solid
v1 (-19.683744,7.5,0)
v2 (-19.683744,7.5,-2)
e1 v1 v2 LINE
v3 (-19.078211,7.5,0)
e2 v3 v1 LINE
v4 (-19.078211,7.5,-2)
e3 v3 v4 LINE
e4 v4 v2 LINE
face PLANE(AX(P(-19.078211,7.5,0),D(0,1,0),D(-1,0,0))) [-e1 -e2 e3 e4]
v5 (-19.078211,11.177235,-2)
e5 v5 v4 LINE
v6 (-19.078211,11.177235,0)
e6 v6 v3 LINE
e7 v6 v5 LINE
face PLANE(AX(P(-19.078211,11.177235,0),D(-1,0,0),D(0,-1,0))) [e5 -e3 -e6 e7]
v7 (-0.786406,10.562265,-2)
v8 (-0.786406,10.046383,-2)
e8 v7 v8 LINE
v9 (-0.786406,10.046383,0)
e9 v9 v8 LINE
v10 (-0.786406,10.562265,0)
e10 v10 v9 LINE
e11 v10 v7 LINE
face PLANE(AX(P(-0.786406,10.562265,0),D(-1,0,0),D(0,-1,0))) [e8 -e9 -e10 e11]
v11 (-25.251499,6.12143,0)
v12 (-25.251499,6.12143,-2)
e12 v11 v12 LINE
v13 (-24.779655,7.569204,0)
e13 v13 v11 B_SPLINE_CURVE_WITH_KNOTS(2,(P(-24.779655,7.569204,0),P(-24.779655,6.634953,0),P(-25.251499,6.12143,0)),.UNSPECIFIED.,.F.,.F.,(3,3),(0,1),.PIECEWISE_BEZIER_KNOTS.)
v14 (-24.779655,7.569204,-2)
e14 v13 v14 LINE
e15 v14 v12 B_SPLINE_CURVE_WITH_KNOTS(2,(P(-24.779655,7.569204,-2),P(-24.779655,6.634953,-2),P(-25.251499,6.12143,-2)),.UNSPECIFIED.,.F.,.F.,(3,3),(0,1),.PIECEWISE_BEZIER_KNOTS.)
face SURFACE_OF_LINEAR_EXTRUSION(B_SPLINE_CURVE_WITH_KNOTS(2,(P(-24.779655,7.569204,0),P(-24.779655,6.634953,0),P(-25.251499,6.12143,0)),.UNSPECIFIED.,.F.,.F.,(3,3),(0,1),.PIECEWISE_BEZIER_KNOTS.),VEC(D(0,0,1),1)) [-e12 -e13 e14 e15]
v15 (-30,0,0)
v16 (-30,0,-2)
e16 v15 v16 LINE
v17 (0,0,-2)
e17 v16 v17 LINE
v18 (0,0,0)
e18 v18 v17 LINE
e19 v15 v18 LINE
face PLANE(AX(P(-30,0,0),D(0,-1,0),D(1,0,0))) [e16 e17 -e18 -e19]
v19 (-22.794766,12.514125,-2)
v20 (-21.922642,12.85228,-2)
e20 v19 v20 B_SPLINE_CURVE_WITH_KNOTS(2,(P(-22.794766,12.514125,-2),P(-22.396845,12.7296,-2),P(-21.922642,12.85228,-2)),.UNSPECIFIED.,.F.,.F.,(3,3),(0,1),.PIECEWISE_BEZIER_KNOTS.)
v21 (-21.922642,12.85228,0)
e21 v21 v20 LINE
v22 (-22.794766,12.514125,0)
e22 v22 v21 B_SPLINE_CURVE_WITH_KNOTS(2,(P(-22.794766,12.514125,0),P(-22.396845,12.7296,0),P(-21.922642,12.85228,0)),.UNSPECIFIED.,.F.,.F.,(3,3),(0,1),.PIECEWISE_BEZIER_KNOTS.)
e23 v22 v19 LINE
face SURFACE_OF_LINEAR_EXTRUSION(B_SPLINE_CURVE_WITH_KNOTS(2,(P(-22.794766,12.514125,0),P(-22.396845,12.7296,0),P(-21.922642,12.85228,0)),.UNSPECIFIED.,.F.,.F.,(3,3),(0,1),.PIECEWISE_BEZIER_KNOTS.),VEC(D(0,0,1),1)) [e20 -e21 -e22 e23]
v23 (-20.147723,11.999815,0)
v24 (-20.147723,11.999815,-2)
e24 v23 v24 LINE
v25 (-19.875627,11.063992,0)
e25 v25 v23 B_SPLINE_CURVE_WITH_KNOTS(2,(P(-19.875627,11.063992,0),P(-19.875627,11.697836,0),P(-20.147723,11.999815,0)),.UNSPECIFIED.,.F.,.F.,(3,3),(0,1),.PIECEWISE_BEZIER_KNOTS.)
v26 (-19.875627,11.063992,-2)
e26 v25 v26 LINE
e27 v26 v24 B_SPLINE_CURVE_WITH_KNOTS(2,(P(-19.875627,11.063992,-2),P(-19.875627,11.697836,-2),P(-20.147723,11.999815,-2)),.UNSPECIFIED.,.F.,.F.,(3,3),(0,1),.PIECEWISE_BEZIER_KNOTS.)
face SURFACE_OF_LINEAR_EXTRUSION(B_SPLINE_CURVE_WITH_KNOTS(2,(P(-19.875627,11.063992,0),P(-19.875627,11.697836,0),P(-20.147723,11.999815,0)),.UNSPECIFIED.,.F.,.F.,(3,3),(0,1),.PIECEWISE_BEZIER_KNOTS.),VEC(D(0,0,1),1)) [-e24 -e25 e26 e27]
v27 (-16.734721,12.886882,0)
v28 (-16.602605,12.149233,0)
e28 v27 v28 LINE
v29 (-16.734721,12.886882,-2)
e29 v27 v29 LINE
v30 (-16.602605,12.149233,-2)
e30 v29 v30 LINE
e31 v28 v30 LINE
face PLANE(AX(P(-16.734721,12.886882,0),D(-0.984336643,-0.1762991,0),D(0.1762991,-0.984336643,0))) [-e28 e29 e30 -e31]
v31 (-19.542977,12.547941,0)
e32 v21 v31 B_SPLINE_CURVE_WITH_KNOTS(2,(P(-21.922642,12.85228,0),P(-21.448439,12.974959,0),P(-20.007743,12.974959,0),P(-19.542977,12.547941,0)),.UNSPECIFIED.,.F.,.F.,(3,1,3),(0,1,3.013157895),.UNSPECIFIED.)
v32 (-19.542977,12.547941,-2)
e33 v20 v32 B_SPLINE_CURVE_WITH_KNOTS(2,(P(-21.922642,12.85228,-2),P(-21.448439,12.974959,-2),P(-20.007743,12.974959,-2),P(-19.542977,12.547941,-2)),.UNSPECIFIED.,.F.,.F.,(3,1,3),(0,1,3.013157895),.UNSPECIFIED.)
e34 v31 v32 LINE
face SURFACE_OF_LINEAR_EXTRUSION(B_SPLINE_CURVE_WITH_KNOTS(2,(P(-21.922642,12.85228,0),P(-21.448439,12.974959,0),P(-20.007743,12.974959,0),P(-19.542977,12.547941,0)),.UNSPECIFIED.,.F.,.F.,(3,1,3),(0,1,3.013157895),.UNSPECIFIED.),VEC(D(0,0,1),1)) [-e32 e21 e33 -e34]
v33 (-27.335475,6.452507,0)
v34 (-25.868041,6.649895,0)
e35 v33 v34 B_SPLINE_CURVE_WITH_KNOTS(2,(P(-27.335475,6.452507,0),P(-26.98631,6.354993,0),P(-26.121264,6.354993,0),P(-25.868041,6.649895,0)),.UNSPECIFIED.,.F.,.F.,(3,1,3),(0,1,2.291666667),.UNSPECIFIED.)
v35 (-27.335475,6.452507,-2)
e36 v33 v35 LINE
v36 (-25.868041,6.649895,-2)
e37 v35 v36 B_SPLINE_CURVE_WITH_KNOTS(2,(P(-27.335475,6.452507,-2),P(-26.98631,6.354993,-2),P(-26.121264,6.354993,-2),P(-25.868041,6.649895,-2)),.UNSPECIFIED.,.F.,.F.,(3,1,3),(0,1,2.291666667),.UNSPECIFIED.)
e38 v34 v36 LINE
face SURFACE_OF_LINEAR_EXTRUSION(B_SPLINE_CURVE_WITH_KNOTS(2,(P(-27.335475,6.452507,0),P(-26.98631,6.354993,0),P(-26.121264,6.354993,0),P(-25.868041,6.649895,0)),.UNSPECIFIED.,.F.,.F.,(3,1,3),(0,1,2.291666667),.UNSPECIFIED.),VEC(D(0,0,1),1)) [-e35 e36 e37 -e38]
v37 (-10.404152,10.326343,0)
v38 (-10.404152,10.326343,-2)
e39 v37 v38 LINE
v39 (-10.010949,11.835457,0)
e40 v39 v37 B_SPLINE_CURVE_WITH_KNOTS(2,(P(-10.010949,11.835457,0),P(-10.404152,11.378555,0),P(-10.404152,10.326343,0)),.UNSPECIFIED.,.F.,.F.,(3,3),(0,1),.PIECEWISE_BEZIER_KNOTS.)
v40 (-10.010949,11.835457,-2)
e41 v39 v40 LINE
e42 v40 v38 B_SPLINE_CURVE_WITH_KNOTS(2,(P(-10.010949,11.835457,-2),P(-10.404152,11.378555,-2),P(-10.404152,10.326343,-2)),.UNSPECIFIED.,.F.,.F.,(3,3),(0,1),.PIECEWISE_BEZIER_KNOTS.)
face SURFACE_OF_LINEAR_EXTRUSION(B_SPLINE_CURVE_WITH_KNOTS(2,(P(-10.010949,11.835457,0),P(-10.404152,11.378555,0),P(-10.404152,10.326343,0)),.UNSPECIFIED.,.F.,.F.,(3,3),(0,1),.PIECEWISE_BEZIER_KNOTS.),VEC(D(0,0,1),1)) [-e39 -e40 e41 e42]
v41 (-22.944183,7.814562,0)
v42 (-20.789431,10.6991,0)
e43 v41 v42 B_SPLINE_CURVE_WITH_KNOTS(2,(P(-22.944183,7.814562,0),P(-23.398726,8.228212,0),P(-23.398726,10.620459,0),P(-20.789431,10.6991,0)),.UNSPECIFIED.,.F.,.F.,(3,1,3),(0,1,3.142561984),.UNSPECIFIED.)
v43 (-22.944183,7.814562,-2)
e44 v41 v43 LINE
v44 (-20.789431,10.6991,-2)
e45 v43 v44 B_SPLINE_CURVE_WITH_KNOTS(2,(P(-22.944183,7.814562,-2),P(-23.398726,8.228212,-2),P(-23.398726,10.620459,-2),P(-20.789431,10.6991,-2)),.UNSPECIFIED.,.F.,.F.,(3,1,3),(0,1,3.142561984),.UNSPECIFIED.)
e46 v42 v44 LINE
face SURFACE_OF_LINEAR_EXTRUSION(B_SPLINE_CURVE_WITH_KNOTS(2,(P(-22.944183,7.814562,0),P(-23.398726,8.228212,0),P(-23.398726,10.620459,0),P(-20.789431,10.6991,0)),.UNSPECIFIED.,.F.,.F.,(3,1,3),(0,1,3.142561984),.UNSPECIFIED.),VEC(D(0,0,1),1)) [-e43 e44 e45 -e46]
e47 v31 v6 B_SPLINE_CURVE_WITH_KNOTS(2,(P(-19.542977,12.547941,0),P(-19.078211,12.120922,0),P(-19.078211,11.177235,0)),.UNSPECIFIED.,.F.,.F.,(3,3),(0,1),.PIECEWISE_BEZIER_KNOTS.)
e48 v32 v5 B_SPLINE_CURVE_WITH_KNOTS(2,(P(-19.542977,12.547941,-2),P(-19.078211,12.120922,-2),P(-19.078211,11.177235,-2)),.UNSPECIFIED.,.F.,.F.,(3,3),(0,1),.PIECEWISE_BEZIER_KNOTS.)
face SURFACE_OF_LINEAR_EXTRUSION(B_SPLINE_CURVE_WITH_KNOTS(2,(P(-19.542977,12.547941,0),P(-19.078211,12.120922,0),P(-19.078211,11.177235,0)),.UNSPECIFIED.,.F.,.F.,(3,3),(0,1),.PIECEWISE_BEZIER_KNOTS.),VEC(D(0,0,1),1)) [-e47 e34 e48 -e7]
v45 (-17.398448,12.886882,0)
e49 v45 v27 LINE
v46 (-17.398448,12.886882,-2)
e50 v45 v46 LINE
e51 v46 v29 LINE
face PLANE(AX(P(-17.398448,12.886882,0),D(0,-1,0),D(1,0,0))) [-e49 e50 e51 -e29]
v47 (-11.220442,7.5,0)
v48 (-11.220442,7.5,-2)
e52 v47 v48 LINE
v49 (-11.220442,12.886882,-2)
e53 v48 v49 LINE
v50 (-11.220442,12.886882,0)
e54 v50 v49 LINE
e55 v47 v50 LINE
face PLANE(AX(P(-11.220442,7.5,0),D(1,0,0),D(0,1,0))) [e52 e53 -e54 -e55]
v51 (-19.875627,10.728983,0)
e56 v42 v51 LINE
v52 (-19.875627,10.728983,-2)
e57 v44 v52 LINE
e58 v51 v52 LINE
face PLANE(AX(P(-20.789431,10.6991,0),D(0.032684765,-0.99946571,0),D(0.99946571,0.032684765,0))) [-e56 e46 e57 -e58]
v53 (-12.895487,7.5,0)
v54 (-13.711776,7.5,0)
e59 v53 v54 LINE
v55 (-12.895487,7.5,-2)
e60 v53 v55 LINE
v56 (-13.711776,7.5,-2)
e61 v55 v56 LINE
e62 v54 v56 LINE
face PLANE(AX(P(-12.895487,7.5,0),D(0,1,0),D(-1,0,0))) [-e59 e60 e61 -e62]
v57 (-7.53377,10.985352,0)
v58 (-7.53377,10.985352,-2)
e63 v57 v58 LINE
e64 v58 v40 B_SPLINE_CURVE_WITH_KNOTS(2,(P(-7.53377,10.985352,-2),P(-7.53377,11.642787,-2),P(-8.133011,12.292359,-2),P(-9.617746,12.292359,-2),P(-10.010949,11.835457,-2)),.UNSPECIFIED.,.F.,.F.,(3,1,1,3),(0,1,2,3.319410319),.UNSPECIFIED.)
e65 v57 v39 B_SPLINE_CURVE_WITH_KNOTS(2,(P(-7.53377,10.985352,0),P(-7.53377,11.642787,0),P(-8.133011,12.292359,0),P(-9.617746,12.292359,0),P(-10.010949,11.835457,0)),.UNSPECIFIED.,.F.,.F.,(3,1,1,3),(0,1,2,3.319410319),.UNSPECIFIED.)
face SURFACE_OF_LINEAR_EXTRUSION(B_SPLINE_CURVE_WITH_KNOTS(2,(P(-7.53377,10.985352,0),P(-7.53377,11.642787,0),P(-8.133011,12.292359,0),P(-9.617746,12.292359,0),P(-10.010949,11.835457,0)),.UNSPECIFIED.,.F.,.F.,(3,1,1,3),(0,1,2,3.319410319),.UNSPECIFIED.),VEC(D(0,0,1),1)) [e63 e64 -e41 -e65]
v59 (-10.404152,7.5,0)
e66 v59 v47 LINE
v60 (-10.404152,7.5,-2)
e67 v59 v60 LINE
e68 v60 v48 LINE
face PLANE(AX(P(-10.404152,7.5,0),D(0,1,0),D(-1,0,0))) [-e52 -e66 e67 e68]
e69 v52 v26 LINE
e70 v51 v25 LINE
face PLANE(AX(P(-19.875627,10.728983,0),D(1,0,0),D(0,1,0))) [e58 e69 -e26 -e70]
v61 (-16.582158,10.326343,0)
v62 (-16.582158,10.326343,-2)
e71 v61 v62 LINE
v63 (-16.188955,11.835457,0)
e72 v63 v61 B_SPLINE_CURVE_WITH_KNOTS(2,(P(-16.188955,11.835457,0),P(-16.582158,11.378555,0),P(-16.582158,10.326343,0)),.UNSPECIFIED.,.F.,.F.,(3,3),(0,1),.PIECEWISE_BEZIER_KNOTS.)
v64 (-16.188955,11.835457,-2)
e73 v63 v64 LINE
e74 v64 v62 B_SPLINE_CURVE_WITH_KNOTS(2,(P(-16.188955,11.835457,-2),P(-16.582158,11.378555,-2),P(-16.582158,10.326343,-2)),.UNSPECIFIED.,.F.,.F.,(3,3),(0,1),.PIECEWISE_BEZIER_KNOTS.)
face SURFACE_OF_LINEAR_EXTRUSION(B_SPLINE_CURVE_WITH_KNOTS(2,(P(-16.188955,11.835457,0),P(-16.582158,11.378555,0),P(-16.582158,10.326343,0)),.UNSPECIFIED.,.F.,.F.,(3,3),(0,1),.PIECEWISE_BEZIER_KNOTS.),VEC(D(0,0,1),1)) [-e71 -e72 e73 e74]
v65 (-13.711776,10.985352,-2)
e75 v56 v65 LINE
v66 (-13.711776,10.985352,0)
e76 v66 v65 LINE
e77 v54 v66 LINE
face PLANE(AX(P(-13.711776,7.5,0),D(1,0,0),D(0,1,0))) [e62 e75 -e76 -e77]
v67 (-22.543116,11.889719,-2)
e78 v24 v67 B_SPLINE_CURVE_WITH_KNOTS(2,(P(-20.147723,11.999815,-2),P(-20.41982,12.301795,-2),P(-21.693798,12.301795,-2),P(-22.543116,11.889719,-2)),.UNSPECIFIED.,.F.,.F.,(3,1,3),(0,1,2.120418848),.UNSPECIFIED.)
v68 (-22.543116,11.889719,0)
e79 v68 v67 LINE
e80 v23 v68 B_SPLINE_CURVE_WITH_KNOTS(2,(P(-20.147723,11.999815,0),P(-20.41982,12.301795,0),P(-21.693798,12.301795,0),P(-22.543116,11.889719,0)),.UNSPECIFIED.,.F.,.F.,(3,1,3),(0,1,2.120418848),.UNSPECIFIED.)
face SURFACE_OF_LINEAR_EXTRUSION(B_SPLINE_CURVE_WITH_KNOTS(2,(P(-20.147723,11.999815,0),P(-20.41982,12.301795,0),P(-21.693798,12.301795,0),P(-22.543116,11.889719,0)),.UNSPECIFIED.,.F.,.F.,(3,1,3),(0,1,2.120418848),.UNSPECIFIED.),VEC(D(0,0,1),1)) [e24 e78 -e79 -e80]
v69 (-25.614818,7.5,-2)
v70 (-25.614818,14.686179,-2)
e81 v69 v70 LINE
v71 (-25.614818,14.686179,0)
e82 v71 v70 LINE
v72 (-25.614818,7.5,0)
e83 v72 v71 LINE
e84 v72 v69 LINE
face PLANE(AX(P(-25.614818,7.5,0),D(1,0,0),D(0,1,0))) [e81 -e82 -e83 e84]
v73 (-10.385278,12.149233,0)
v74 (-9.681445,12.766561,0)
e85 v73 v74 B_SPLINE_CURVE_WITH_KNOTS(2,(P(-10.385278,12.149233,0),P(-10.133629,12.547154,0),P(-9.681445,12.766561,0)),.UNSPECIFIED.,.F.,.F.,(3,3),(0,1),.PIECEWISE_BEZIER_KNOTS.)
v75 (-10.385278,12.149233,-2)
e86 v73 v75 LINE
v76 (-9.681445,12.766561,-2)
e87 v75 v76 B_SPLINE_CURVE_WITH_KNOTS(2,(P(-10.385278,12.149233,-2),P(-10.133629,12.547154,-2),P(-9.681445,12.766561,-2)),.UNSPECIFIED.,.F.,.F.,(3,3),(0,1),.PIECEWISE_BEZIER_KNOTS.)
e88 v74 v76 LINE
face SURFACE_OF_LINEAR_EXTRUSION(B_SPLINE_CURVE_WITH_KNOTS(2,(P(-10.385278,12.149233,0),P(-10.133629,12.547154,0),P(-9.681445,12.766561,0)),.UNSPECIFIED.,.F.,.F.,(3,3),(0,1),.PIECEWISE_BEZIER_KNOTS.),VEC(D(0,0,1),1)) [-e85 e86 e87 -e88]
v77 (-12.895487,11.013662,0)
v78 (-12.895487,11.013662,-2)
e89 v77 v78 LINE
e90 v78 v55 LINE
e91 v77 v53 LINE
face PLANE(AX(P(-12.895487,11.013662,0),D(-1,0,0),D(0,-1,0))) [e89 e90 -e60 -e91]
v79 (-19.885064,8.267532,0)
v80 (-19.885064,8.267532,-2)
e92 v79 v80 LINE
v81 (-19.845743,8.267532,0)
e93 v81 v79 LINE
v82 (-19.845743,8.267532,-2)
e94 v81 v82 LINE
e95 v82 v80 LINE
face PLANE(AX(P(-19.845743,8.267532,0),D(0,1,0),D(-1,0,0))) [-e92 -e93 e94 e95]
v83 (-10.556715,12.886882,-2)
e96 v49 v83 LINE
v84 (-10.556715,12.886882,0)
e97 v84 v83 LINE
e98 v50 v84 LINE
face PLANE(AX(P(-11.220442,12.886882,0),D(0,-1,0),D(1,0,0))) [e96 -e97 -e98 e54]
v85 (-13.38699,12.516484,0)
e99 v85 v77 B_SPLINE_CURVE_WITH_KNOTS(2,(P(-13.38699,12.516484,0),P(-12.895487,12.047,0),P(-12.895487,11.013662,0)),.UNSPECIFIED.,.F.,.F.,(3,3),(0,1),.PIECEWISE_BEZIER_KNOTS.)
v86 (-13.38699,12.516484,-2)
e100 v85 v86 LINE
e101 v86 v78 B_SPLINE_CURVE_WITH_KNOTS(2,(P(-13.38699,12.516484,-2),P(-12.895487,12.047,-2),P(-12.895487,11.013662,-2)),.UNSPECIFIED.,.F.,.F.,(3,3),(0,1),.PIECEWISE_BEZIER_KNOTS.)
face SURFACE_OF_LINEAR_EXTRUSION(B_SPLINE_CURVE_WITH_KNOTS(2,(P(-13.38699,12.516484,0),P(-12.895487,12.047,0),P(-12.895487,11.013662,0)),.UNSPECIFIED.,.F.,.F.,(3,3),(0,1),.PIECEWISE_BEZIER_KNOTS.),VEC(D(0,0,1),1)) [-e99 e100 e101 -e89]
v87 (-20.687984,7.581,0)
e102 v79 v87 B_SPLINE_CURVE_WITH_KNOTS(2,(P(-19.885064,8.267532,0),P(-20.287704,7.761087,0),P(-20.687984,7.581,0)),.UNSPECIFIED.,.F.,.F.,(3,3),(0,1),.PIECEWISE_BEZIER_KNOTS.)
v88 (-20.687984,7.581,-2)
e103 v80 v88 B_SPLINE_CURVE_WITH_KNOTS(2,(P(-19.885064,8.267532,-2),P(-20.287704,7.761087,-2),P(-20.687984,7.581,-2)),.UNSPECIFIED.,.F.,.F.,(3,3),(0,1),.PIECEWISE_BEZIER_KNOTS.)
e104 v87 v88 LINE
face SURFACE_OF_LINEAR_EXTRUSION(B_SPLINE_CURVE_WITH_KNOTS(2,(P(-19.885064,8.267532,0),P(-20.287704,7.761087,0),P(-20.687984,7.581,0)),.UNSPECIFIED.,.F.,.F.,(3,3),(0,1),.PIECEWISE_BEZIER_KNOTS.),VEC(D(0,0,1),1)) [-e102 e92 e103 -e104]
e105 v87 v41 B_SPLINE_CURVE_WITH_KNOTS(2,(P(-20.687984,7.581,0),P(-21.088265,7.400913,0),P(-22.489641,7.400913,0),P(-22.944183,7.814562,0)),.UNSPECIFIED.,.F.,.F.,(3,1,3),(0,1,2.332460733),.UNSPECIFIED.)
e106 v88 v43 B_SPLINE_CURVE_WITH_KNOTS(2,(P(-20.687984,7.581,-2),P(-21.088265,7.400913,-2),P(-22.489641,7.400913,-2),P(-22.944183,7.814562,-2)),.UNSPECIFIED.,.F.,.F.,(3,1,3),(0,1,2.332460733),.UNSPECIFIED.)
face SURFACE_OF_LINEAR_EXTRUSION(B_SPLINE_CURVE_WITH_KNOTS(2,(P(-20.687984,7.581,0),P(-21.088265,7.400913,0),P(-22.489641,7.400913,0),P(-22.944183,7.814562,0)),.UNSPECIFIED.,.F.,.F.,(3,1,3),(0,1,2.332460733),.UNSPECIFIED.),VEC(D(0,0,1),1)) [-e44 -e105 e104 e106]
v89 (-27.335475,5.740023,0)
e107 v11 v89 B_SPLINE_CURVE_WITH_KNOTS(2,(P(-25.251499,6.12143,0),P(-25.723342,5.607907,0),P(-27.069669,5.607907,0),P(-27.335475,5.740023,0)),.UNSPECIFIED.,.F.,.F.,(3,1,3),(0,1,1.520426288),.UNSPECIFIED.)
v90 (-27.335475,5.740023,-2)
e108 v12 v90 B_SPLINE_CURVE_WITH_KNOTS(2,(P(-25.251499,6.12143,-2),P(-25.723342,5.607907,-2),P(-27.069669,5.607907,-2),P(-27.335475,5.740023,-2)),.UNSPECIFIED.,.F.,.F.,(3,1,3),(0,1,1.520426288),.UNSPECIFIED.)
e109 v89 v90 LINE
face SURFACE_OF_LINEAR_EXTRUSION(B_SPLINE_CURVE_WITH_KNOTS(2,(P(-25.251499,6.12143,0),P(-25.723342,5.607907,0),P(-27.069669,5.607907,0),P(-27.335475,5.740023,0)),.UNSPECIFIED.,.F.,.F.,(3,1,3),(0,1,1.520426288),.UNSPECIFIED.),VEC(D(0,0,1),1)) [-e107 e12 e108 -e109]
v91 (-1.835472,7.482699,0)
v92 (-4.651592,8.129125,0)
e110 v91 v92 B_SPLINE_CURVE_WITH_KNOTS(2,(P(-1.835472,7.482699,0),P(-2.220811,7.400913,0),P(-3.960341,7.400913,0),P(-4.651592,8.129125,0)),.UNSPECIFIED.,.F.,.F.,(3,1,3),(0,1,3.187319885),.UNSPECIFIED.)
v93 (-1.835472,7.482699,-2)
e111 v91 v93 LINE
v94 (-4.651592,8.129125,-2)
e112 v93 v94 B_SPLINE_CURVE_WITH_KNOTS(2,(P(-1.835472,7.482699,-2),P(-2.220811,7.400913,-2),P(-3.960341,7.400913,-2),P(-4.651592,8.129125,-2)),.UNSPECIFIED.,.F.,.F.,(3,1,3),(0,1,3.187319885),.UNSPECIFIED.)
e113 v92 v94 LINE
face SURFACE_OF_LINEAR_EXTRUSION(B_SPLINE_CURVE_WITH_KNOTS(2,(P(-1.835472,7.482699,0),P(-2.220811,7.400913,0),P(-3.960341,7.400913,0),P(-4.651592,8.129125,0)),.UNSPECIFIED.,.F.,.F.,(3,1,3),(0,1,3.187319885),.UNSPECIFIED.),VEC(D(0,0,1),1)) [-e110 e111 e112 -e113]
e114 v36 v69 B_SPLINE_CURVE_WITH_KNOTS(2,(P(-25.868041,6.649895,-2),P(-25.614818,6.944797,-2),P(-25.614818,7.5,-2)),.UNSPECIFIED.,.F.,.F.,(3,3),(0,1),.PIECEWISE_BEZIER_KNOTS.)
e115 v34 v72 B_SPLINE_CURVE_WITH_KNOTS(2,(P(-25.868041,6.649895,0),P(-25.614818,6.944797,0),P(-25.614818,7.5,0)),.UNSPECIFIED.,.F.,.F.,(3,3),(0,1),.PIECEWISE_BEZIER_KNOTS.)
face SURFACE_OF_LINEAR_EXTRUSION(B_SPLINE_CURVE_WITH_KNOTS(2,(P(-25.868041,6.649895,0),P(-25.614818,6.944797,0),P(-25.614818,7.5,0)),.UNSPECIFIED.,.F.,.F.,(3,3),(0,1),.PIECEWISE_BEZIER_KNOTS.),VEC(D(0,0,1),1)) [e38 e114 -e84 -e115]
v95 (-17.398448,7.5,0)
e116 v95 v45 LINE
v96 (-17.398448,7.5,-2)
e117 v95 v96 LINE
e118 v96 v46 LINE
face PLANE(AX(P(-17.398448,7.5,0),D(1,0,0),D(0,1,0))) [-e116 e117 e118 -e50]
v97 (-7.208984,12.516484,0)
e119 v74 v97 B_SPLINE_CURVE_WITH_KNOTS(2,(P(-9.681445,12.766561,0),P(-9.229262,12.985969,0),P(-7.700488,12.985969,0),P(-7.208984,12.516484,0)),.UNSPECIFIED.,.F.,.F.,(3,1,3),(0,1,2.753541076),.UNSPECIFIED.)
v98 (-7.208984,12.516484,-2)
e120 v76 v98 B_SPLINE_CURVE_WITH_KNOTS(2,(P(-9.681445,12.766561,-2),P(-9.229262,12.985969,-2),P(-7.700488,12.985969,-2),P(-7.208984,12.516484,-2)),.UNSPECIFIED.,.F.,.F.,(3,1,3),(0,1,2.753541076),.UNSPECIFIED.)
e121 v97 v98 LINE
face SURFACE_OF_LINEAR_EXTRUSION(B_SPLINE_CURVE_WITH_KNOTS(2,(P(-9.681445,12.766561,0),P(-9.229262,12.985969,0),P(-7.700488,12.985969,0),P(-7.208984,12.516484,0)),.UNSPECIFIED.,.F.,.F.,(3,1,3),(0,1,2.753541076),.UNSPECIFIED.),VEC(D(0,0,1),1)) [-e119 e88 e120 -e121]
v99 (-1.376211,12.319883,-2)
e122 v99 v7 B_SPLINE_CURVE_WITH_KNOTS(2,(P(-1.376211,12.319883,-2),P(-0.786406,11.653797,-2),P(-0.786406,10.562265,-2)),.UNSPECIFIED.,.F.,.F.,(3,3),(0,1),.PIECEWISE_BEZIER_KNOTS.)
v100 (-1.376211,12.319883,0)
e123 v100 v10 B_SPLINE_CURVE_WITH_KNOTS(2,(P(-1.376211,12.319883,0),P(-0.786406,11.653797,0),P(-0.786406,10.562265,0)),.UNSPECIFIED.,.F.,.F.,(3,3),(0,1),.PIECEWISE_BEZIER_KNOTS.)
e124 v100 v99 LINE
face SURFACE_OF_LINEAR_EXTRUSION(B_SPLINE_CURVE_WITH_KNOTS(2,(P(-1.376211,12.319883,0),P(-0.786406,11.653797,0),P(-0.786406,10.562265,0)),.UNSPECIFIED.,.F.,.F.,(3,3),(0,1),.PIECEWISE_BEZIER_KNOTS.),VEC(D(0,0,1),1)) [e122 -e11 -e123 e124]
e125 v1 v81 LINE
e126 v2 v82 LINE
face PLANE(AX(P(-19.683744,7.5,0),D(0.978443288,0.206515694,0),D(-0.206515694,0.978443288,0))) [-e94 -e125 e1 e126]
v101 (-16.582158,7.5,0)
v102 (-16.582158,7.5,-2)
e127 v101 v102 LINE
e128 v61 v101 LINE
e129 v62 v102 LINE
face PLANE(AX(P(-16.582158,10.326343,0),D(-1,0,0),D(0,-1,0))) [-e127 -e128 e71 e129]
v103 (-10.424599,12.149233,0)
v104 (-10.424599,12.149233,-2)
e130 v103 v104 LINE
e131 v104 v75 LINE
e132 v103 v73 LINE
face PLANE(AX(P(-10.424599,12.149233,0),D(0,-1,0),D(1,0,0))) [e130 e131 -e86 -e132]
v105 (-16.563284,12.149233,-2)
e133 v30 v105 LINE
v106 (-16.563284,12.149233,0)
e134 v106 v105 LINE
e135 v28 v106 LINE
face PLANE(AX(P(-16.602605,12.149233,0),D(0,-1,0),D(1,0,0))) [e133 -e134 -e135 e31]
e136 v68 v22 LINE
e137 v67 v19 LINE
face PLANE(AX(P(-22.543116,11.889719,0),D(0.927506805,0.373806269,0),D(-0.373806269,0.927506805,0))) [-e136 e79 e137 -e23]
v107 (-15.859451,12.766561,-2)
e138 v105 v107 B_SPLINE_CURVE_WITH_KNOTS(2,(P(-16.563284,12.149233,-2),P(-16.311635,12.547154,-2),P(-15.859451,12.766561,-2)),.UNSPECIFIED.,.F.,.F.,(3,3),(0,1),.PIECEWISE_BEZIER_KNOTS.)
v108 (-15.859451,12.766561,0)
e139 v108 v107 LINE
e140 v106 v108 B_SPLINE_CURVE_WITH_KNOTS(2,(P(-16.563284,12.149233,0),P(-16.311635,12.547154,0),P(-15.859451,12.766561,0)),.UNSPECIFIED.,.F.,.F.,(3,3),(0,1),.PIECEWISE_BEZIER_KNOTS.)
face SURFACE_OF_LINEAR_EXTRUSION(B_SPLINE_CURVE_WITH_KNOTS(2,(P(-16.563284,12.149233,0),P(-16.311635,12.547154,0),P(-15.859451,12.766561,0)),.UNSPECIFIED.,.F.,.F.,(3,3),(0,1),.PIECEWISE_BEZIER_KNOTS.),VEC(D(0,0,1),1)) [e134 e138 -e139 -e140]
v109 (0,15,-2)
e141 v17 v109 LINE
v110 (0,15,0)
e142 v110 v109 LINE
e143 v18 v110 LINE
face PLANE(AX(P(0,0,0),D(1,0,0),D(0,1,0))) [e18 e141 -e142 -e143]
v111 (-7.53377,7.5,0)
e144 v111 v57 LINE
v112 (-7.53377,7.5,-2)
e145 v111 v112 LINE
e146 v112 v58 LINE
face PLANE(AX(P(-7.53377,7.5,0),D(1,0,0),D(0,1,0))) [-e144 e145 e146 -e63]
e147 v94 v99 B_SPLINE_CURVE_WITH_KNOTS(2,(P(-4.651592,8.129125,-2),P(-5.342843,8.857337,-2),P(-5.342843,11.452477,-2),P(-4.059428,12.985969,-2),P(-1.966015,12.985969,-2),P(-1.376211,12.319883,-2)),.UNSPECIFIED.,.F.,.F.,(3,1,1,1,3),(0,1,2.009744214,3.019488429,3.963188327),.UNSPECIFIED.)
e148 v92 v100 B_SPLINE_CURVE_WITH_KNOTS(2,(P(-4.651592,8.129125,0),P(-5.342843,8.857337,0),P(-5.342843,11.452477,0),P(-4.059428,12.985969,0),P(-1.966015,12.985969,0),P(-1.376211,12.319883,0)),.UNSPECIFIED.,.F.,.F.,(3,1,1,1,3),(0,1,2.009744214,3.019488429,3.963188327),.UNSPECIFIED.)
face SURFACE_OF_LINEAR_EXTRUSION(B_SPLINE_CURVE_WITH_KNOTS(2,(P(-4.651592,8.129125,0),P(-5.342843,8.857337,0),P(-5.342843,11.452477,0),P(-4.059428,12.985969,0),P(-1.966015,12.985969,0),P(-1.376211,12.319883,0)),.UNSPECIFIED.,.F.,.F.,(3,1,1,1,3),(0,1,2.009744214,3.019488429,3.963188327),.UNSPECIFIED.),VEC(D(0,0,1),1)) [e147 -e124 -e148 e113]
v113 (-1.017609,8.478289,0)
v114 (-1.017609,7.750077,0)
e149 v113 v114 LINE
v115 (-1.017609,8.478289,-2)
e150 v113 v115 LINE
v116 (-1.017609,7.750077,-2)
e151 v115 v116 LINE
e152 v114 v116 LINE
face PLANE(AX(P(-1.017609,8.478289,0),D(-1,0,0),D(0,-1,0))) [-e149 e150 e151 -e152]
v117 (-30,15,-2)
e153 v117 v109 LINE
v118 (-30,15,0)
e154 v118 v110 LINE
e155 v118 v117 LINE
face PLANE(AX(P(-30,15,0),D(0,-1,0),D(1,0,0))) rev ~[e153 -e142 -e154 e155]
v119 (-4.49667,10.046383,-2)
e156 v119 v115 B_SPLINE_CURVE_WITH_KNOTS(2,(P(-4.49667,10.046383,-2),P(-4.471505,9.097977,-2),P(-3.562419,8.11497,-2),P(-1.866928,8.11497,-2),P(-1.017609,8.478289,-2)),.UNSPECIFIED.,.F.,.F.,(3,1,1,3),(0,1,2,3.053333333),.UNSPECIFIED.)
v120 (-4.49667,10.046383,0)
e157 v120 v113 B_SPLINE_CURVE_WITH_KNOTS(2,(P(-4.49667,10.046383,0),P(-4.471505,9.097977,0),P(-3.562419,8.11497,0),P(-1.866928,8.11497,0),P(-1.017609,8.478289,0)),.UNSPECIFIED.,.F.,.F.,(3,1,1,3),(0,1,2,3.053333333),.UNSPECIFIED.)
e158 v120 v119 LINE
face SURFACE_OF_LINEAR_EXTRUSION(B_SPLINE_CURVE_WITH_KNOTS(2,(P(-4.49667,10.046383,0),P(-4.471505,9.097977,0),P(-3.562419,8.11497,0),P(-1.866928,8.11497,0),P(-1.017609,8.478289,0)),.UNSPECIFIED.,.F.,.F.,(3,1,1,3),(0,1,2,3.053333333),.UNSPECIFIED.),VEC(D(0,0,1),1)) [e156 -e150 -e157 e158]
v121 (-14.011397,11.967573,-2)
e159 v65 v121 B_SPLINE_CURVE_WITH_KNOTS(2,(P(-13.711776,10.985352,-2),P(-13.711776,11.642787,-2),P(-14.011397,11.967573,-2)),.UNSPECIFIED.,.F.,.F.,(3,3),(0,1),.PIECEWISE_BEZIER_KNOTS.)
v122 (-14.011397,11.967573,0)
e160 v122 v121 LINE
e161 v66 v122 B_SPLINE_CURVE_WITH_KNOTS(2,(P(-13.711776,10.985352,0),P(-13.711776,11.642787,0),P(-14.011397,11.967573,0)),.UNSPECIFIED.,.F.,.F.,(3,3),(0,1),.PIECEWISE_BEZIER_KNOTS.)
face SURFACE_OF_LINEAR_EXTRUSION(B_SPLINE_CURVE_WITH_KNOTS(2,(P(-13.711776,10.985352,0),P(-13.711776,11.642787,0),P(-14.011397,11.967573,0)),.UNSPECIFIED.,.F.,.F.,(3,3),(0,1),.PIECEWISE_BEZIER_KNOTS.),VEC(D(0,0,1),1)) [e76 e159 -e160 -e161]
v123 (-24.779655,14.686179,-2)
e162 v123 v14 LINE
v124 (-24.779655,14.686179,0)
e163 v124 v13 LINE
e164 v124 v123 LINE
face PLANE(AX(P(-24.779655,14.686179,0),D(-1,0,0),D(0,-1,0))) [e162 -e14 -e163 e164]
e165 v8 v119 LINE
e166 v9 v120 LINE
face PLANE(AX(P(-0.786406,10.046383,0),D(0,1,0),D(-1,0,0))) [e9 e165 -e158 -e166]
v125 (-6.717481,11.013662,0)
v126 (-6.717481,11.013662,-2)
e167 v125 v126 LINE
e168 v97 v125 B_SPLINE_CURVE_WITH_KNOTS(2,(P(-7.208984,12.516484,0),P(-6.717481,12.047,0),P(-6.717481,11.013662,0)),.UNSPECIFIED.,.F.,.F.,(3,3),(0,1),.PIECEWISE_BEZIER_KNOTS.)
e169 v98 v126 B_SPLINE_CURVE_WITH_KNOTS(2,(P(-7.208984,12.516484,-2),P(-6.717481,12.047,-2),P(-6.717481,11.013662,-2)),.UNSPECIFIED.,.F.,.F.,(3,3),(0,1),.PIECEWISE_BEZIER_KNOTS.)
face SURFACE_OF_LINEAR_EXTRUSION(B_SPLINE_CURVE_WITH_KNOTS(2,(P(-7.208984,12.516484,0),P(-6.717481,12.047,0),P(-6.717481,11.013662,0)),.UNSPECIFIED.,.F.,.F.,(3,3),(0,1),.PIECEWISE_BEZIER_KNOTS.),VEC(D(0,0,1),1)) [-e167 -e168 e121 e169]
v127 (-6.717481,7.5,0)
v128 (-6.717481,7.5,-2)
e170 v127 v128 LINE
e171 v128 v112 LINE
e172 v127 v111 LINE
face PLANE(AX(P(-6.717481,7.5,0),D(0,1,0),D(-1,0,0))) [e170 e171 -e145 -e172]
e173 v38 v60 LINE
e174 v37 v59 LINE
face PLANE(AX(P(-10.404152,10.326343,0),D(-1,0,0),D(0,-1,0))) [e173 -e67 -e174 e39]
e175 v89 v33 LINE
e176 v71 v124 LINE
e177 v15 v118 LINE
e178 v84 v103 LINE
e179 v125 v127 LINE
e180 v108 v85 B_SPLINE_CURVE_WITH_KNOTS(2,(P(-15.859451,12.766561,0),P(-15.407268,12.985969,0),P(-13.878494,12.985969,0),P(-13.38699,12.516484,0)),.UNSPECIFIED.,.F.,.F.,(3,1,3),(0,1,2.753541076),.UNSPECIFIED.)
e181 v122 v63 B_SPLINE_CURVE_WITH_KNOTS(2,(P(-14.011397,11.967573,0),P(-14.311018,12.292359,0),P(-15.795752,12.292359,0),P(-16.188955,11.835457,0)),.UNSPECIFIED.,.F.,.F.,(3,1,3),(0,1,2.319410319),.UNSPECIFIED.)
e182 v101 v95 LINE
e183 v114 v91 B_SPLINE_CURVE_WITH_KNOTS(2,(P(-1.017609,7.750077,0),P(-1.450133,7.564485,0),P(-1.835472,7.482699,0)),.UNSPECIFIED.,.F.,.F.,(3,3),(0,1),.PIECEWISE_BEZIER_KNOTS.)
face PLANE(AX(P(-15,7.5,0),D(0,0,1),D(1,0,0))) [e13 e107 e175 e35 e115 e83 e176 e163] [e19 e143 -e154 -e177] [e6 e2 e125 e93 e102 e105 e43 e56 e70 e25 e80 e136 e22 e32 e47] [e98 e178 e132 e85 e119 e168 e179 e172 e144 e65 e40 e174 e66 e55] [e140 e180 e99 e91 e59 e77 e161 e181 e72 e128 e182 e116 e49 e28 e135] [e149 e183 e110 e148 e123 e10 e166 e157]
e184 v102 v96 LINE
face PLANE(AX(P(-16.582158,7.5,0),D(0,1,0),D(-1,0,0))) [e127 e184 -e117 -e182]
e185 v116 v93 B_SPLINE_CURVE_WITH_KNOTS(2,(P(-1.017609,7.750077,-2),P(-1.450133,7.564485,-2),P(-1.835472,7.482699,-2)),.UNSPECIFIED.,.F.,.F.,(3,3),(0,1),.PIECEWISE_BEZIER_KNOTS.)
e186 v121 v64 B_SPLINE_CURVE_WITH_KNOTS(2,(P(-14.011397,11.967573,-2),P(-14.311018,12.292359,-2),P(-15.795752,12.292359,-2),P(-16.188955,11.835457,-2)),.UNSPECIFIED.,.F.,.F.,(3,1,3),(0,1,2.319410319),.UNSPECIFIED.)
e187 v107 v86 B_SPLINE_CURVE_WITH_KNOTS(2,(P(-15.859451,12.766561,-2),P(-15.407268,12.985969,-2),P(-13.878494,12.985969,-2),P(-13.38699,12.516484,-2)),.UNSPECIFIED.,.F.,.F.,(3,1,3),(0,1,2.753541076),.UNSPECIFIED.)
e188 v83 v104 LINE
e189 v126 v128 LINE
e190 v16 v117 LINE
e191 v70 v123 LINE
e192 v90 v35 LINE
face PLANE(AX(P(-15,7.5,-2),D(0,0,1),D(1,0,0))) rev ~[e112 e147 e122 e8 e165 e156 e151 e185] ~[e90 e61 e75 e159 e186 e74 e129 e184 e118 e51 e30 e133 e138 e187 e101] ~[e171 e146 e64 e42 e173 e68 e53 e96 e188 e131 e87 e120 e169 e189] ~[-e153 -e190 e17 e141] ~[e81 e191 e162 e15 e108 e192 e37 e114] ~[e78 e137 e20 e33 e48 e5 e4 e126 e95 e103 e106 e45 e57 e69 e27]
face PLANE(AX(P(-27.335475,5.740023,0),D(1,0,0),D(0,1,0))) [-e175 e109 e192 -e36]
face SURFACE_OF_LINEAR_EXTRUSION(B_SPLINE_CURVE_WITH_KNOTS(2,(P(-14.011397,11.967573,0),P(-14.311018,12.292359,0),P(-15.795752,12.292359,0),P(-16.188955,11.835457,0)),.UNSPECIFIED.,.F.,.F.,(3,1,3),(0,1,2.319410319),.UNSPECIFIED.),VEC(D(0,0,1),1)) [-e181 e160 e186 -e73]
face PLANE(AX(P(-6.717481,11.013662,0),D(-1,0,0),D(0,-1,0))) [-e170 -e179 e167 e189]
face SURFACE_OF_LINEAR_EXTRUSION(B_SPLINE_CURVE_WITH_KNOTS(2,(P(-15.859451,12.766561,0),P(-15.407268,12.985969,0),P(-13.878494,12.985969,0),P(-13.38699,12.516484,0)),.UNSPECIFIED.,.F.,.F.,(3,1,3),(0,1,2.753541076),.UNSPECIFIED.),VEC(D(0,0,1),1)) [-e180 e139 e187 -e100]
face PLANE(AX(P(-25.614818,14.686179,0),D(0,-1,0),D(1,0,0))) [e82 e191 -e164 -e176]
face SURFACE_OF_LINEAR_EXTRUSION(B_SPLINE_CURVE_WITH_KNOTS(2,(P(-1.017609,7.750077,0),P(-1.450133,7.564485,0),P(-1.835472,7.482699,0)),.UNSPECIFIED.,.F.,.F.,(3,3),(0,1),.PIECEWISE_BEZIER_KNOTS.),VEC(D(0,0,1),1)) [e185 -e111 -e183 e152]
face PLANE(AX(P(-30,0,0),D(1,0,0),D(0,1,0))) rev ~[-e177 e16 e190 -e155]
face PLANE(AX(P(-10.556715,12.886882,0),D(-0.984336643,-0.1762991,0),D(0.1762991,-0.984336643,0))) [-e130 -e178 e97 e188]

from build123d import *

# Parameters (mm, degrees)
F0_W     = 30
F0_H     = 15
F1_DEPTH = 2


with BuildPart() as f1:
    # F0 (on Top) → F1 (new body)
    with BuildSketch(Plane.XY):
        with Locations((-15, 7.5)):
            Rectangle(F0_W, F0_H)
        with BuildLine():
            add(Edge.make_bspline(
                [(-25.2514986596, 6.1214301728), (-25.723342297, 5.6079070142), (-26.6088355231, 5.6079070142)],
                knots=[0, 0, 0, 1, 1, 1], degree=2))
            add(Edge.make_bspline(
                [(-26.6088355231, 5.6079070142), (-27.0696694756, 5.6079070142), (-27.3354747247, 5.7400232326)],
                knots=[0, 0, 0, 1, 1, 1], degree=2))
            Line((-27.3354747247, 5.7400232326), (-27.3354747247, 6.4525071251))
            add(Edge.make_bspline(
                [(-27.3354747247, 6.4525071251), (-26.986310433, 6.3549927733), (-26.6088355231, 6.3549927733)],
                knots=[0, 0, 0, 1, 1, 1], degree=2))
            add(Edge.make_bspline(
                [(-26.6088355231, 6.3549927733), (-26.1212637645, 6.3549927733), (-25.8680410125, 6.6498950467)],
                knots=[0, 0, 0, 1, 1, 1], degree=2))
            add(Edge.make_bspline(
                [(-25.8680410125, 6.6498950467), (-25.6148182604, 6.94479732), (-25.6148182604, 7.5)],
                knots=[0, 0, 0, 1, 1, 1], degree=2))
            Line((-25.6148182604, 7.5), (-25.6148182604, 14.6861785971))
            Line((-25.6148182604, 14.6861785971), (-24.7796550223, 14.6861785971))
            Line((-24.7796550223, 14.6861785971), (-24.7796550223, 7.5692037335))
            add(Edge.make_bspline(
                [(-24.7796550223, 7.5692037335), (-24.7796550223, 6.6349533315), (-25.2514986596, 6.1214301728)],
                knots=[0, 0, 0, 1, 1, 1], degree=2))
        make_face(mode=Mode.SUBTRACT)
        with BuildLine():
            Line((-19.0782110708, 7.5), (-19.6837437387, 7.5))
            Line((-19.6837437387, 7.5), (-19.8457433876, 8.2675323168))
            Line((-19.8457433876, 8.2675323168), (-19.8850636907, 8.2675323168))
            add(Edge.make_bspline(
                [(-19.8850636907, 8.2675323168), (-20.2877035946, 7.7610868127), (-20.6879842802, 7.5809998244)],
                knots=[0, 0, 0, 1, 1, 1], degree=2))
            add(Edge.make_bspline(
                [(-20.6879842802, 7.5809998244), (-21.0882649659, 7.4009128362), (-21.6890791975, 7.4009128362)],
                knots=[0, 0, 0, 1, 1, 1], degree=2))
            add(Edge.make_bspline(
                [(-21.6890791975, 7.4009128362), (-22.4896405689, 7.4009128362), (-22.9441832729, 7.8145624249)],
                knots=[0, 0, 0, 1, 1, 1], degree=2))
            add(Edge.make_bspline(
                [(-22.9441832729, 7.8145624249), (-23.3987259769, 8.2282120137), (-23.3987259769, 8.9894530819)],
                knots=[0, 0, 0, 1, 1, 1], degree=2))
            add(Edge.make_bspline(
                [(-23.3987259769, 8.9894530819), (-23.3987259769, 10.6204592551), (-20.7894306623, 10.6990998613)],
                knots=[0, 0, 0, 1, 1, 1], degree=2))
            Line((-20.7894306623, 10.6990998613), (-19.8756268179, 10.7289832917))
            Line((-19.8756268179, 10.7289832917), (-19.8756268179, 11.0639922742))
            add(Edge.make_bspline(
                [(-19.8756268179, 11.0639922742), (-19.8756268179, 11.6978355604), (-20.1477233155, 11.9998154883)],
                knots=[0, 0, 0, 1, 1, 1], degree=2))
            add(Edge.make_bspline(
                [(-20.1477233155, 11.9998154883), (-20.419819813, 12.3017954162), (-21.0206340446, 12.3017954162)],
                knots=[0, 0, 0, 1, 1, 1], degree=2))
            add(Edge.make_bspline(
                [(-21.0206340446, 12.3017954162), (-21.6937976339, 12.3017954162), (-22.5431161812, 11.8897186396)],
                knots=[0, 0, 0, 1, 1, 1], degree=2))
            Line((-22.5431161812, 11.8897186396), (-22.7947661211, 12.5141250531))
            add(Edge.make_bspline(
                [(-22.7947661211, 12.5141250531), (-22.3968446536, 12.7296003141), (-21.922641798, 12.8522796598)],
                knots=[0, 0, 0, 1, 1, 1], degree=2))
            add(Edge.make_bspline(
                [(-21.922641798, 12.8522796598), (-21.4484389425, 12.9749590056), (-20.9703040566, 12.9749590056)],
                knots=[0, 0, 0, 1, 1, 1], degree=2))
            add(Edge.make_bspline(
                [(-20.9703040566, 12.9749590056), (-20.0077430364, 12.9749590056), (-19.5429770536, 12.5479405137)],
                knots=[0, 0, 0, 1, 1, 1], degree=2))
            add(Edge.make_bspline(
                [(-19.5429770536, 12.5479405137), (-19.0782110708, 12.1209220219), (-19.0782110708, 11.1772347472)],
                knots=[0, 0, 0, 1, 1, 1], degree=2))
            Line((-19.0782110708, 11.1772347472), (-19.0782110708, 7.5))
        make_face(mode=Mode.SUBTRACT)
        with BuildLine():
            Line((-12.8954866092, 7.5), (-13.7117761018, 7.5))
            Line((-13.7117761018, 7.5), (-13.7117761018, 10.985351668))
            add(Edge.make_bspline(
                [(-13.7117761018, 10.985351668), (-13.7117761018, 11.6427871361), (-14.0113968115, 11.9675728398)],
                knots=[0, 0, 0, 1, 1, 1], degree=2))
            add(Edge.make_bspline(
                [(-14.0113968115, 11.9675728398), (-14.3110175213, 12.2923585435), (-14.951152056, 12.2923585435)],
                knots=[0, 0, 0, 1, 1, 1], degree=2))
            add(Edge.make_bspline(
                [(-14.951152056, 12.2923585435), (-15.7957521668, 12.2923585435), (-16.188955198, 11.8354566213)],
                knots=[0, 0, 0, 1, 1, 1], degree=2))
            add(Edge.make_bspline(
                [(-16.188955198, 11.8354566213), (-16.5821582291, 11.3785546991), (-16.5821582291, 10.3263433878)],
                knots=[0, 0, 0, 1, 1, 1], degree=2))
            Line((-16.5821582291, 10.3263433878), (-16.5821582291, 7.5))
            Line((-16.5821582291, 7.5), (-17.3984477218, 7.5))
            Line((-17.3984477218, 7.5), (-17.3984477218, 12.8868815266))
            Line((-17.3984477218, 12.8868815266), (-16.7347210052, 12.8868815266))
            Line((-16.7347210052, 12.8868815266), (-16.6026047867, 12.1492326402))
            Line((-16.6026047867, 12.1492326402), (-16.5632844836, 12.1492326402))
            add(Edge.make_bspline(
                [(-16.5632844836, 12.1492326402), (-16.3116345437, 12.5471541077), (-15.8594510579, 12.7665613991)],
                knots=[0, 0, 0, 1, 1, 1], degree=2))
            add(Edge.make_bspline(
                [(-15.8594510579, 12.7665613991), (-15.4072675721, 12.9859686904), (-14.8520648921, 12.9859686904)],
                knots=[0, 0, 0, 1, 1, 1], degree=2))
            add(Edge.make_bspline(
                [(-14.8520648921, 12.9859686904), (-13.878494187, 12.9859686904), (-13.3869903981, 12.5164842712)],
                knots=[0, 0, 0, 1, 1, 1], degree=2))
            add(Edge.make_bspline(
                [(-13.3869903981, 12.5164842712), (-12.8954866092, 12.0469998521), (-12.8954866092, 11.0136622862)],
                knots=[0, 0, 0, 1, 1, 1], degree=2))
            Line((-12.8954866092, 11.0136622862), (-12.8954866092, 7.5))
        make_face(mode=Mode.SUBTRACT)
        with BuildLine():
            Line((-6.7174805839, 7.5), (-7.5337700766, 7.5))
            Line((-7.5337700766, 7.5), (-7.5337700766, 10.985351668))
            add(Edge.make_bspline(
                [(-7.5337700766, 10.985351668), (-7.5337700766, 11.6427871361), (-7.8333907863, 11.9675728398)],
                knots=[0, 0, 0, 1, 1, 1], degree=2))
            add(Edge.make_bspline(
                [(-7.8333907863, 11.9675728398), (-8.133011496, 12.2923585435), (-8.7731460307, 12.2923585435)],
                knots=[0, 0, 0, 1, 1, 1], degree=2))
            add(Edge.make_bspline(
                [(-8.7731460307, 12.2923585435), (-9.6177461416, 12.2923585435), (-10.0109491728, 11.8354566213)],
                knots=[0, 0, 0, 1, 1, 1], degree=2))
            add(Edge.make_bspline(
                [(-10.0109491728, 11.8354566213), (-10.4041522039, 11.3785546991), (-10.4041522039, 10.3263433878)],
                knots=[0, 0, 0, 1, 1, 1], degree=2))
            Line((-10.4041522039, 10.3263433878), (-10.4041522039, 7.5))
            Line((-10.4041522039, 7.5), (-11.2204416965, 7.5))
            Line((-11.2204416965, 7.5), (-11.2204416965, 12.8868815266))
            Line((-11.2204416965, 12.8868815266), (-10.55671498, 12.8868815266))
            Line((-10.55671498, 12.8868815266), (-10.4245987615, 12.1492326402))
            Line((-10.4245987615, 12.1492326402), (-10.3852784584, 12.1492326402))
            add(Edge.make_bspline(
                [(-10.3852784584, 12.1492326402), (-10.1336285185, 12.5471541077), (-9.6814450327, 12.7665613991)],
                knots=[0, 0, 0, 1, 1, 1], degree=2))
            add(Edge.make_bspline(
                [(-9.6814450327, 12.7665613991), (-9.2292615469, 12.9859686904), (-8.6740588669, 12.9859686904)],
                knots=[0, 0, 0, 1, 1, 1], degree=2))
            add(Edge.make_bspline(
                [(-8.6740588669, 12.9859686904), (-7.7004881618, 12.9859686904), (-7.2089843729, 12.5164842712)],
                knots=[0, 0, 0, 1, 1, 1], degree=2))
            add(Edge.make_bspline(
                [(-7.2089843729, 12.5164842712), (-6.7174805839, 12.0469998521), (-6.7174805839, 11.0136622862)],
                knots=[0, 0, 0, 1, 1, 1], degree=2))
            Line((-6.7174805839, 11.0136622862), (-6.7174805839, 7.5))
        make_face(mode=Mode.SUBTRACT)
        with BuildLine():
            add(Edge.make_bspline(
                [(-1.8354717493, 7.4826990666), (-2.2208107199, 7.4009128362), (-2.7665765271, 7.4009128362)],
                knots=[0, 0, 0, 1, 1, 1], degree=2))
            add(Edge.make_bspline(
                [(-2.7665765271, 7.4009128362), (-3.9603409296, 7.4009128362), (-4.6515918584, 8.1291248498)],
                knots=[0, 0, 0, 1, 1, 1], degree=2))
            add(Edge.make_bspline(
                [(-4.6515918584, 8.1291248498), (-5.3428427871, 8.8573368635), (-5.3428427871, 10.1486156177)],
                knots=[0, 0, 0, 1, 1, 1], degree=2))
            add(Edge.make_bspline(
                [(-5.3428427871, 10.1486156177), (-5.3428427871, 11.452476869), (-4.7011354403, 12.2192227797)],
                knots=[0, 0, 0, 1, 1, 1], degree=2))
            add(Edge.make_bspline(
                [(-4.7011354403, 12.2192227797), (-4.0594280935, 12.9859686904), (-2.9773333518, 12.9859686904)],
                knots=[0, 0, 0, 1, 1, 1], degree=2))
            add(Edge.make_bspline(
                [(-2.9773333518, 12.9859686904), (-1.9660151557, 12.9859686904), (-1.376210609, 12.3198827557)],
                knots=[0, 0, 0, 1, 1, 1], degree=2))
            add(Edge.make_bspline(
                [(-1.376210609, 12.3198827557), (-0.7864060623, 11.6537968209), (-0.7864060623, 10.5622652065)],
                knots=[0, 0, 0, 1, 1, 1], degree=2))
            Line((-0.7864060623, 10.5622652065), (-0.7864060623, 10.0463828296))
            Line((-0.7864060623, 10.0463828296), (-4.4966698641, 10.0463828296))
            add(Edge.make_bspline(
                [(-4.4966698641, 10.0463828296), (-4.4715048701, 9.0979771185), (-4.0169621661, 8.6064733296)],
                knots=[0, 0, 0, 1, 1, 1], degree=2))
            add(Edge.make_bspline(
                [(-4.0169621661, 8.6064733296), (-3.5624194621, 8.1149695407), (-2.7366930967, 8.1149695407)],
                knots=[0, 0, 0, 1, 1, 1], degree=2))
            add(Edge.make_bspline(
                [(-2.7366930967, 8.1149695407), (-1.8669279918, 8.1149695407), (-1.0176094446, 8.4782891415)],
                knots=[0, 0, 0, 1, 1, 1], degree=2))
            Line((-1.0176094446, 8.4782891415), (-1.0176094446, 7.7500771278))
            add(Edge.make_bspline(
                [(-1.0176094446, 7.7500771278), (-1.4501327788, 7.5644852971), (-1.8354717493, 7.4826990666)],
                knots=[0, 0, 0, 1, 1, 1], degree=2))
        make_face(mode=Mode.SUBTRACT)
    extrude(amount=-F1_DEPTH)


solid = f1.part
